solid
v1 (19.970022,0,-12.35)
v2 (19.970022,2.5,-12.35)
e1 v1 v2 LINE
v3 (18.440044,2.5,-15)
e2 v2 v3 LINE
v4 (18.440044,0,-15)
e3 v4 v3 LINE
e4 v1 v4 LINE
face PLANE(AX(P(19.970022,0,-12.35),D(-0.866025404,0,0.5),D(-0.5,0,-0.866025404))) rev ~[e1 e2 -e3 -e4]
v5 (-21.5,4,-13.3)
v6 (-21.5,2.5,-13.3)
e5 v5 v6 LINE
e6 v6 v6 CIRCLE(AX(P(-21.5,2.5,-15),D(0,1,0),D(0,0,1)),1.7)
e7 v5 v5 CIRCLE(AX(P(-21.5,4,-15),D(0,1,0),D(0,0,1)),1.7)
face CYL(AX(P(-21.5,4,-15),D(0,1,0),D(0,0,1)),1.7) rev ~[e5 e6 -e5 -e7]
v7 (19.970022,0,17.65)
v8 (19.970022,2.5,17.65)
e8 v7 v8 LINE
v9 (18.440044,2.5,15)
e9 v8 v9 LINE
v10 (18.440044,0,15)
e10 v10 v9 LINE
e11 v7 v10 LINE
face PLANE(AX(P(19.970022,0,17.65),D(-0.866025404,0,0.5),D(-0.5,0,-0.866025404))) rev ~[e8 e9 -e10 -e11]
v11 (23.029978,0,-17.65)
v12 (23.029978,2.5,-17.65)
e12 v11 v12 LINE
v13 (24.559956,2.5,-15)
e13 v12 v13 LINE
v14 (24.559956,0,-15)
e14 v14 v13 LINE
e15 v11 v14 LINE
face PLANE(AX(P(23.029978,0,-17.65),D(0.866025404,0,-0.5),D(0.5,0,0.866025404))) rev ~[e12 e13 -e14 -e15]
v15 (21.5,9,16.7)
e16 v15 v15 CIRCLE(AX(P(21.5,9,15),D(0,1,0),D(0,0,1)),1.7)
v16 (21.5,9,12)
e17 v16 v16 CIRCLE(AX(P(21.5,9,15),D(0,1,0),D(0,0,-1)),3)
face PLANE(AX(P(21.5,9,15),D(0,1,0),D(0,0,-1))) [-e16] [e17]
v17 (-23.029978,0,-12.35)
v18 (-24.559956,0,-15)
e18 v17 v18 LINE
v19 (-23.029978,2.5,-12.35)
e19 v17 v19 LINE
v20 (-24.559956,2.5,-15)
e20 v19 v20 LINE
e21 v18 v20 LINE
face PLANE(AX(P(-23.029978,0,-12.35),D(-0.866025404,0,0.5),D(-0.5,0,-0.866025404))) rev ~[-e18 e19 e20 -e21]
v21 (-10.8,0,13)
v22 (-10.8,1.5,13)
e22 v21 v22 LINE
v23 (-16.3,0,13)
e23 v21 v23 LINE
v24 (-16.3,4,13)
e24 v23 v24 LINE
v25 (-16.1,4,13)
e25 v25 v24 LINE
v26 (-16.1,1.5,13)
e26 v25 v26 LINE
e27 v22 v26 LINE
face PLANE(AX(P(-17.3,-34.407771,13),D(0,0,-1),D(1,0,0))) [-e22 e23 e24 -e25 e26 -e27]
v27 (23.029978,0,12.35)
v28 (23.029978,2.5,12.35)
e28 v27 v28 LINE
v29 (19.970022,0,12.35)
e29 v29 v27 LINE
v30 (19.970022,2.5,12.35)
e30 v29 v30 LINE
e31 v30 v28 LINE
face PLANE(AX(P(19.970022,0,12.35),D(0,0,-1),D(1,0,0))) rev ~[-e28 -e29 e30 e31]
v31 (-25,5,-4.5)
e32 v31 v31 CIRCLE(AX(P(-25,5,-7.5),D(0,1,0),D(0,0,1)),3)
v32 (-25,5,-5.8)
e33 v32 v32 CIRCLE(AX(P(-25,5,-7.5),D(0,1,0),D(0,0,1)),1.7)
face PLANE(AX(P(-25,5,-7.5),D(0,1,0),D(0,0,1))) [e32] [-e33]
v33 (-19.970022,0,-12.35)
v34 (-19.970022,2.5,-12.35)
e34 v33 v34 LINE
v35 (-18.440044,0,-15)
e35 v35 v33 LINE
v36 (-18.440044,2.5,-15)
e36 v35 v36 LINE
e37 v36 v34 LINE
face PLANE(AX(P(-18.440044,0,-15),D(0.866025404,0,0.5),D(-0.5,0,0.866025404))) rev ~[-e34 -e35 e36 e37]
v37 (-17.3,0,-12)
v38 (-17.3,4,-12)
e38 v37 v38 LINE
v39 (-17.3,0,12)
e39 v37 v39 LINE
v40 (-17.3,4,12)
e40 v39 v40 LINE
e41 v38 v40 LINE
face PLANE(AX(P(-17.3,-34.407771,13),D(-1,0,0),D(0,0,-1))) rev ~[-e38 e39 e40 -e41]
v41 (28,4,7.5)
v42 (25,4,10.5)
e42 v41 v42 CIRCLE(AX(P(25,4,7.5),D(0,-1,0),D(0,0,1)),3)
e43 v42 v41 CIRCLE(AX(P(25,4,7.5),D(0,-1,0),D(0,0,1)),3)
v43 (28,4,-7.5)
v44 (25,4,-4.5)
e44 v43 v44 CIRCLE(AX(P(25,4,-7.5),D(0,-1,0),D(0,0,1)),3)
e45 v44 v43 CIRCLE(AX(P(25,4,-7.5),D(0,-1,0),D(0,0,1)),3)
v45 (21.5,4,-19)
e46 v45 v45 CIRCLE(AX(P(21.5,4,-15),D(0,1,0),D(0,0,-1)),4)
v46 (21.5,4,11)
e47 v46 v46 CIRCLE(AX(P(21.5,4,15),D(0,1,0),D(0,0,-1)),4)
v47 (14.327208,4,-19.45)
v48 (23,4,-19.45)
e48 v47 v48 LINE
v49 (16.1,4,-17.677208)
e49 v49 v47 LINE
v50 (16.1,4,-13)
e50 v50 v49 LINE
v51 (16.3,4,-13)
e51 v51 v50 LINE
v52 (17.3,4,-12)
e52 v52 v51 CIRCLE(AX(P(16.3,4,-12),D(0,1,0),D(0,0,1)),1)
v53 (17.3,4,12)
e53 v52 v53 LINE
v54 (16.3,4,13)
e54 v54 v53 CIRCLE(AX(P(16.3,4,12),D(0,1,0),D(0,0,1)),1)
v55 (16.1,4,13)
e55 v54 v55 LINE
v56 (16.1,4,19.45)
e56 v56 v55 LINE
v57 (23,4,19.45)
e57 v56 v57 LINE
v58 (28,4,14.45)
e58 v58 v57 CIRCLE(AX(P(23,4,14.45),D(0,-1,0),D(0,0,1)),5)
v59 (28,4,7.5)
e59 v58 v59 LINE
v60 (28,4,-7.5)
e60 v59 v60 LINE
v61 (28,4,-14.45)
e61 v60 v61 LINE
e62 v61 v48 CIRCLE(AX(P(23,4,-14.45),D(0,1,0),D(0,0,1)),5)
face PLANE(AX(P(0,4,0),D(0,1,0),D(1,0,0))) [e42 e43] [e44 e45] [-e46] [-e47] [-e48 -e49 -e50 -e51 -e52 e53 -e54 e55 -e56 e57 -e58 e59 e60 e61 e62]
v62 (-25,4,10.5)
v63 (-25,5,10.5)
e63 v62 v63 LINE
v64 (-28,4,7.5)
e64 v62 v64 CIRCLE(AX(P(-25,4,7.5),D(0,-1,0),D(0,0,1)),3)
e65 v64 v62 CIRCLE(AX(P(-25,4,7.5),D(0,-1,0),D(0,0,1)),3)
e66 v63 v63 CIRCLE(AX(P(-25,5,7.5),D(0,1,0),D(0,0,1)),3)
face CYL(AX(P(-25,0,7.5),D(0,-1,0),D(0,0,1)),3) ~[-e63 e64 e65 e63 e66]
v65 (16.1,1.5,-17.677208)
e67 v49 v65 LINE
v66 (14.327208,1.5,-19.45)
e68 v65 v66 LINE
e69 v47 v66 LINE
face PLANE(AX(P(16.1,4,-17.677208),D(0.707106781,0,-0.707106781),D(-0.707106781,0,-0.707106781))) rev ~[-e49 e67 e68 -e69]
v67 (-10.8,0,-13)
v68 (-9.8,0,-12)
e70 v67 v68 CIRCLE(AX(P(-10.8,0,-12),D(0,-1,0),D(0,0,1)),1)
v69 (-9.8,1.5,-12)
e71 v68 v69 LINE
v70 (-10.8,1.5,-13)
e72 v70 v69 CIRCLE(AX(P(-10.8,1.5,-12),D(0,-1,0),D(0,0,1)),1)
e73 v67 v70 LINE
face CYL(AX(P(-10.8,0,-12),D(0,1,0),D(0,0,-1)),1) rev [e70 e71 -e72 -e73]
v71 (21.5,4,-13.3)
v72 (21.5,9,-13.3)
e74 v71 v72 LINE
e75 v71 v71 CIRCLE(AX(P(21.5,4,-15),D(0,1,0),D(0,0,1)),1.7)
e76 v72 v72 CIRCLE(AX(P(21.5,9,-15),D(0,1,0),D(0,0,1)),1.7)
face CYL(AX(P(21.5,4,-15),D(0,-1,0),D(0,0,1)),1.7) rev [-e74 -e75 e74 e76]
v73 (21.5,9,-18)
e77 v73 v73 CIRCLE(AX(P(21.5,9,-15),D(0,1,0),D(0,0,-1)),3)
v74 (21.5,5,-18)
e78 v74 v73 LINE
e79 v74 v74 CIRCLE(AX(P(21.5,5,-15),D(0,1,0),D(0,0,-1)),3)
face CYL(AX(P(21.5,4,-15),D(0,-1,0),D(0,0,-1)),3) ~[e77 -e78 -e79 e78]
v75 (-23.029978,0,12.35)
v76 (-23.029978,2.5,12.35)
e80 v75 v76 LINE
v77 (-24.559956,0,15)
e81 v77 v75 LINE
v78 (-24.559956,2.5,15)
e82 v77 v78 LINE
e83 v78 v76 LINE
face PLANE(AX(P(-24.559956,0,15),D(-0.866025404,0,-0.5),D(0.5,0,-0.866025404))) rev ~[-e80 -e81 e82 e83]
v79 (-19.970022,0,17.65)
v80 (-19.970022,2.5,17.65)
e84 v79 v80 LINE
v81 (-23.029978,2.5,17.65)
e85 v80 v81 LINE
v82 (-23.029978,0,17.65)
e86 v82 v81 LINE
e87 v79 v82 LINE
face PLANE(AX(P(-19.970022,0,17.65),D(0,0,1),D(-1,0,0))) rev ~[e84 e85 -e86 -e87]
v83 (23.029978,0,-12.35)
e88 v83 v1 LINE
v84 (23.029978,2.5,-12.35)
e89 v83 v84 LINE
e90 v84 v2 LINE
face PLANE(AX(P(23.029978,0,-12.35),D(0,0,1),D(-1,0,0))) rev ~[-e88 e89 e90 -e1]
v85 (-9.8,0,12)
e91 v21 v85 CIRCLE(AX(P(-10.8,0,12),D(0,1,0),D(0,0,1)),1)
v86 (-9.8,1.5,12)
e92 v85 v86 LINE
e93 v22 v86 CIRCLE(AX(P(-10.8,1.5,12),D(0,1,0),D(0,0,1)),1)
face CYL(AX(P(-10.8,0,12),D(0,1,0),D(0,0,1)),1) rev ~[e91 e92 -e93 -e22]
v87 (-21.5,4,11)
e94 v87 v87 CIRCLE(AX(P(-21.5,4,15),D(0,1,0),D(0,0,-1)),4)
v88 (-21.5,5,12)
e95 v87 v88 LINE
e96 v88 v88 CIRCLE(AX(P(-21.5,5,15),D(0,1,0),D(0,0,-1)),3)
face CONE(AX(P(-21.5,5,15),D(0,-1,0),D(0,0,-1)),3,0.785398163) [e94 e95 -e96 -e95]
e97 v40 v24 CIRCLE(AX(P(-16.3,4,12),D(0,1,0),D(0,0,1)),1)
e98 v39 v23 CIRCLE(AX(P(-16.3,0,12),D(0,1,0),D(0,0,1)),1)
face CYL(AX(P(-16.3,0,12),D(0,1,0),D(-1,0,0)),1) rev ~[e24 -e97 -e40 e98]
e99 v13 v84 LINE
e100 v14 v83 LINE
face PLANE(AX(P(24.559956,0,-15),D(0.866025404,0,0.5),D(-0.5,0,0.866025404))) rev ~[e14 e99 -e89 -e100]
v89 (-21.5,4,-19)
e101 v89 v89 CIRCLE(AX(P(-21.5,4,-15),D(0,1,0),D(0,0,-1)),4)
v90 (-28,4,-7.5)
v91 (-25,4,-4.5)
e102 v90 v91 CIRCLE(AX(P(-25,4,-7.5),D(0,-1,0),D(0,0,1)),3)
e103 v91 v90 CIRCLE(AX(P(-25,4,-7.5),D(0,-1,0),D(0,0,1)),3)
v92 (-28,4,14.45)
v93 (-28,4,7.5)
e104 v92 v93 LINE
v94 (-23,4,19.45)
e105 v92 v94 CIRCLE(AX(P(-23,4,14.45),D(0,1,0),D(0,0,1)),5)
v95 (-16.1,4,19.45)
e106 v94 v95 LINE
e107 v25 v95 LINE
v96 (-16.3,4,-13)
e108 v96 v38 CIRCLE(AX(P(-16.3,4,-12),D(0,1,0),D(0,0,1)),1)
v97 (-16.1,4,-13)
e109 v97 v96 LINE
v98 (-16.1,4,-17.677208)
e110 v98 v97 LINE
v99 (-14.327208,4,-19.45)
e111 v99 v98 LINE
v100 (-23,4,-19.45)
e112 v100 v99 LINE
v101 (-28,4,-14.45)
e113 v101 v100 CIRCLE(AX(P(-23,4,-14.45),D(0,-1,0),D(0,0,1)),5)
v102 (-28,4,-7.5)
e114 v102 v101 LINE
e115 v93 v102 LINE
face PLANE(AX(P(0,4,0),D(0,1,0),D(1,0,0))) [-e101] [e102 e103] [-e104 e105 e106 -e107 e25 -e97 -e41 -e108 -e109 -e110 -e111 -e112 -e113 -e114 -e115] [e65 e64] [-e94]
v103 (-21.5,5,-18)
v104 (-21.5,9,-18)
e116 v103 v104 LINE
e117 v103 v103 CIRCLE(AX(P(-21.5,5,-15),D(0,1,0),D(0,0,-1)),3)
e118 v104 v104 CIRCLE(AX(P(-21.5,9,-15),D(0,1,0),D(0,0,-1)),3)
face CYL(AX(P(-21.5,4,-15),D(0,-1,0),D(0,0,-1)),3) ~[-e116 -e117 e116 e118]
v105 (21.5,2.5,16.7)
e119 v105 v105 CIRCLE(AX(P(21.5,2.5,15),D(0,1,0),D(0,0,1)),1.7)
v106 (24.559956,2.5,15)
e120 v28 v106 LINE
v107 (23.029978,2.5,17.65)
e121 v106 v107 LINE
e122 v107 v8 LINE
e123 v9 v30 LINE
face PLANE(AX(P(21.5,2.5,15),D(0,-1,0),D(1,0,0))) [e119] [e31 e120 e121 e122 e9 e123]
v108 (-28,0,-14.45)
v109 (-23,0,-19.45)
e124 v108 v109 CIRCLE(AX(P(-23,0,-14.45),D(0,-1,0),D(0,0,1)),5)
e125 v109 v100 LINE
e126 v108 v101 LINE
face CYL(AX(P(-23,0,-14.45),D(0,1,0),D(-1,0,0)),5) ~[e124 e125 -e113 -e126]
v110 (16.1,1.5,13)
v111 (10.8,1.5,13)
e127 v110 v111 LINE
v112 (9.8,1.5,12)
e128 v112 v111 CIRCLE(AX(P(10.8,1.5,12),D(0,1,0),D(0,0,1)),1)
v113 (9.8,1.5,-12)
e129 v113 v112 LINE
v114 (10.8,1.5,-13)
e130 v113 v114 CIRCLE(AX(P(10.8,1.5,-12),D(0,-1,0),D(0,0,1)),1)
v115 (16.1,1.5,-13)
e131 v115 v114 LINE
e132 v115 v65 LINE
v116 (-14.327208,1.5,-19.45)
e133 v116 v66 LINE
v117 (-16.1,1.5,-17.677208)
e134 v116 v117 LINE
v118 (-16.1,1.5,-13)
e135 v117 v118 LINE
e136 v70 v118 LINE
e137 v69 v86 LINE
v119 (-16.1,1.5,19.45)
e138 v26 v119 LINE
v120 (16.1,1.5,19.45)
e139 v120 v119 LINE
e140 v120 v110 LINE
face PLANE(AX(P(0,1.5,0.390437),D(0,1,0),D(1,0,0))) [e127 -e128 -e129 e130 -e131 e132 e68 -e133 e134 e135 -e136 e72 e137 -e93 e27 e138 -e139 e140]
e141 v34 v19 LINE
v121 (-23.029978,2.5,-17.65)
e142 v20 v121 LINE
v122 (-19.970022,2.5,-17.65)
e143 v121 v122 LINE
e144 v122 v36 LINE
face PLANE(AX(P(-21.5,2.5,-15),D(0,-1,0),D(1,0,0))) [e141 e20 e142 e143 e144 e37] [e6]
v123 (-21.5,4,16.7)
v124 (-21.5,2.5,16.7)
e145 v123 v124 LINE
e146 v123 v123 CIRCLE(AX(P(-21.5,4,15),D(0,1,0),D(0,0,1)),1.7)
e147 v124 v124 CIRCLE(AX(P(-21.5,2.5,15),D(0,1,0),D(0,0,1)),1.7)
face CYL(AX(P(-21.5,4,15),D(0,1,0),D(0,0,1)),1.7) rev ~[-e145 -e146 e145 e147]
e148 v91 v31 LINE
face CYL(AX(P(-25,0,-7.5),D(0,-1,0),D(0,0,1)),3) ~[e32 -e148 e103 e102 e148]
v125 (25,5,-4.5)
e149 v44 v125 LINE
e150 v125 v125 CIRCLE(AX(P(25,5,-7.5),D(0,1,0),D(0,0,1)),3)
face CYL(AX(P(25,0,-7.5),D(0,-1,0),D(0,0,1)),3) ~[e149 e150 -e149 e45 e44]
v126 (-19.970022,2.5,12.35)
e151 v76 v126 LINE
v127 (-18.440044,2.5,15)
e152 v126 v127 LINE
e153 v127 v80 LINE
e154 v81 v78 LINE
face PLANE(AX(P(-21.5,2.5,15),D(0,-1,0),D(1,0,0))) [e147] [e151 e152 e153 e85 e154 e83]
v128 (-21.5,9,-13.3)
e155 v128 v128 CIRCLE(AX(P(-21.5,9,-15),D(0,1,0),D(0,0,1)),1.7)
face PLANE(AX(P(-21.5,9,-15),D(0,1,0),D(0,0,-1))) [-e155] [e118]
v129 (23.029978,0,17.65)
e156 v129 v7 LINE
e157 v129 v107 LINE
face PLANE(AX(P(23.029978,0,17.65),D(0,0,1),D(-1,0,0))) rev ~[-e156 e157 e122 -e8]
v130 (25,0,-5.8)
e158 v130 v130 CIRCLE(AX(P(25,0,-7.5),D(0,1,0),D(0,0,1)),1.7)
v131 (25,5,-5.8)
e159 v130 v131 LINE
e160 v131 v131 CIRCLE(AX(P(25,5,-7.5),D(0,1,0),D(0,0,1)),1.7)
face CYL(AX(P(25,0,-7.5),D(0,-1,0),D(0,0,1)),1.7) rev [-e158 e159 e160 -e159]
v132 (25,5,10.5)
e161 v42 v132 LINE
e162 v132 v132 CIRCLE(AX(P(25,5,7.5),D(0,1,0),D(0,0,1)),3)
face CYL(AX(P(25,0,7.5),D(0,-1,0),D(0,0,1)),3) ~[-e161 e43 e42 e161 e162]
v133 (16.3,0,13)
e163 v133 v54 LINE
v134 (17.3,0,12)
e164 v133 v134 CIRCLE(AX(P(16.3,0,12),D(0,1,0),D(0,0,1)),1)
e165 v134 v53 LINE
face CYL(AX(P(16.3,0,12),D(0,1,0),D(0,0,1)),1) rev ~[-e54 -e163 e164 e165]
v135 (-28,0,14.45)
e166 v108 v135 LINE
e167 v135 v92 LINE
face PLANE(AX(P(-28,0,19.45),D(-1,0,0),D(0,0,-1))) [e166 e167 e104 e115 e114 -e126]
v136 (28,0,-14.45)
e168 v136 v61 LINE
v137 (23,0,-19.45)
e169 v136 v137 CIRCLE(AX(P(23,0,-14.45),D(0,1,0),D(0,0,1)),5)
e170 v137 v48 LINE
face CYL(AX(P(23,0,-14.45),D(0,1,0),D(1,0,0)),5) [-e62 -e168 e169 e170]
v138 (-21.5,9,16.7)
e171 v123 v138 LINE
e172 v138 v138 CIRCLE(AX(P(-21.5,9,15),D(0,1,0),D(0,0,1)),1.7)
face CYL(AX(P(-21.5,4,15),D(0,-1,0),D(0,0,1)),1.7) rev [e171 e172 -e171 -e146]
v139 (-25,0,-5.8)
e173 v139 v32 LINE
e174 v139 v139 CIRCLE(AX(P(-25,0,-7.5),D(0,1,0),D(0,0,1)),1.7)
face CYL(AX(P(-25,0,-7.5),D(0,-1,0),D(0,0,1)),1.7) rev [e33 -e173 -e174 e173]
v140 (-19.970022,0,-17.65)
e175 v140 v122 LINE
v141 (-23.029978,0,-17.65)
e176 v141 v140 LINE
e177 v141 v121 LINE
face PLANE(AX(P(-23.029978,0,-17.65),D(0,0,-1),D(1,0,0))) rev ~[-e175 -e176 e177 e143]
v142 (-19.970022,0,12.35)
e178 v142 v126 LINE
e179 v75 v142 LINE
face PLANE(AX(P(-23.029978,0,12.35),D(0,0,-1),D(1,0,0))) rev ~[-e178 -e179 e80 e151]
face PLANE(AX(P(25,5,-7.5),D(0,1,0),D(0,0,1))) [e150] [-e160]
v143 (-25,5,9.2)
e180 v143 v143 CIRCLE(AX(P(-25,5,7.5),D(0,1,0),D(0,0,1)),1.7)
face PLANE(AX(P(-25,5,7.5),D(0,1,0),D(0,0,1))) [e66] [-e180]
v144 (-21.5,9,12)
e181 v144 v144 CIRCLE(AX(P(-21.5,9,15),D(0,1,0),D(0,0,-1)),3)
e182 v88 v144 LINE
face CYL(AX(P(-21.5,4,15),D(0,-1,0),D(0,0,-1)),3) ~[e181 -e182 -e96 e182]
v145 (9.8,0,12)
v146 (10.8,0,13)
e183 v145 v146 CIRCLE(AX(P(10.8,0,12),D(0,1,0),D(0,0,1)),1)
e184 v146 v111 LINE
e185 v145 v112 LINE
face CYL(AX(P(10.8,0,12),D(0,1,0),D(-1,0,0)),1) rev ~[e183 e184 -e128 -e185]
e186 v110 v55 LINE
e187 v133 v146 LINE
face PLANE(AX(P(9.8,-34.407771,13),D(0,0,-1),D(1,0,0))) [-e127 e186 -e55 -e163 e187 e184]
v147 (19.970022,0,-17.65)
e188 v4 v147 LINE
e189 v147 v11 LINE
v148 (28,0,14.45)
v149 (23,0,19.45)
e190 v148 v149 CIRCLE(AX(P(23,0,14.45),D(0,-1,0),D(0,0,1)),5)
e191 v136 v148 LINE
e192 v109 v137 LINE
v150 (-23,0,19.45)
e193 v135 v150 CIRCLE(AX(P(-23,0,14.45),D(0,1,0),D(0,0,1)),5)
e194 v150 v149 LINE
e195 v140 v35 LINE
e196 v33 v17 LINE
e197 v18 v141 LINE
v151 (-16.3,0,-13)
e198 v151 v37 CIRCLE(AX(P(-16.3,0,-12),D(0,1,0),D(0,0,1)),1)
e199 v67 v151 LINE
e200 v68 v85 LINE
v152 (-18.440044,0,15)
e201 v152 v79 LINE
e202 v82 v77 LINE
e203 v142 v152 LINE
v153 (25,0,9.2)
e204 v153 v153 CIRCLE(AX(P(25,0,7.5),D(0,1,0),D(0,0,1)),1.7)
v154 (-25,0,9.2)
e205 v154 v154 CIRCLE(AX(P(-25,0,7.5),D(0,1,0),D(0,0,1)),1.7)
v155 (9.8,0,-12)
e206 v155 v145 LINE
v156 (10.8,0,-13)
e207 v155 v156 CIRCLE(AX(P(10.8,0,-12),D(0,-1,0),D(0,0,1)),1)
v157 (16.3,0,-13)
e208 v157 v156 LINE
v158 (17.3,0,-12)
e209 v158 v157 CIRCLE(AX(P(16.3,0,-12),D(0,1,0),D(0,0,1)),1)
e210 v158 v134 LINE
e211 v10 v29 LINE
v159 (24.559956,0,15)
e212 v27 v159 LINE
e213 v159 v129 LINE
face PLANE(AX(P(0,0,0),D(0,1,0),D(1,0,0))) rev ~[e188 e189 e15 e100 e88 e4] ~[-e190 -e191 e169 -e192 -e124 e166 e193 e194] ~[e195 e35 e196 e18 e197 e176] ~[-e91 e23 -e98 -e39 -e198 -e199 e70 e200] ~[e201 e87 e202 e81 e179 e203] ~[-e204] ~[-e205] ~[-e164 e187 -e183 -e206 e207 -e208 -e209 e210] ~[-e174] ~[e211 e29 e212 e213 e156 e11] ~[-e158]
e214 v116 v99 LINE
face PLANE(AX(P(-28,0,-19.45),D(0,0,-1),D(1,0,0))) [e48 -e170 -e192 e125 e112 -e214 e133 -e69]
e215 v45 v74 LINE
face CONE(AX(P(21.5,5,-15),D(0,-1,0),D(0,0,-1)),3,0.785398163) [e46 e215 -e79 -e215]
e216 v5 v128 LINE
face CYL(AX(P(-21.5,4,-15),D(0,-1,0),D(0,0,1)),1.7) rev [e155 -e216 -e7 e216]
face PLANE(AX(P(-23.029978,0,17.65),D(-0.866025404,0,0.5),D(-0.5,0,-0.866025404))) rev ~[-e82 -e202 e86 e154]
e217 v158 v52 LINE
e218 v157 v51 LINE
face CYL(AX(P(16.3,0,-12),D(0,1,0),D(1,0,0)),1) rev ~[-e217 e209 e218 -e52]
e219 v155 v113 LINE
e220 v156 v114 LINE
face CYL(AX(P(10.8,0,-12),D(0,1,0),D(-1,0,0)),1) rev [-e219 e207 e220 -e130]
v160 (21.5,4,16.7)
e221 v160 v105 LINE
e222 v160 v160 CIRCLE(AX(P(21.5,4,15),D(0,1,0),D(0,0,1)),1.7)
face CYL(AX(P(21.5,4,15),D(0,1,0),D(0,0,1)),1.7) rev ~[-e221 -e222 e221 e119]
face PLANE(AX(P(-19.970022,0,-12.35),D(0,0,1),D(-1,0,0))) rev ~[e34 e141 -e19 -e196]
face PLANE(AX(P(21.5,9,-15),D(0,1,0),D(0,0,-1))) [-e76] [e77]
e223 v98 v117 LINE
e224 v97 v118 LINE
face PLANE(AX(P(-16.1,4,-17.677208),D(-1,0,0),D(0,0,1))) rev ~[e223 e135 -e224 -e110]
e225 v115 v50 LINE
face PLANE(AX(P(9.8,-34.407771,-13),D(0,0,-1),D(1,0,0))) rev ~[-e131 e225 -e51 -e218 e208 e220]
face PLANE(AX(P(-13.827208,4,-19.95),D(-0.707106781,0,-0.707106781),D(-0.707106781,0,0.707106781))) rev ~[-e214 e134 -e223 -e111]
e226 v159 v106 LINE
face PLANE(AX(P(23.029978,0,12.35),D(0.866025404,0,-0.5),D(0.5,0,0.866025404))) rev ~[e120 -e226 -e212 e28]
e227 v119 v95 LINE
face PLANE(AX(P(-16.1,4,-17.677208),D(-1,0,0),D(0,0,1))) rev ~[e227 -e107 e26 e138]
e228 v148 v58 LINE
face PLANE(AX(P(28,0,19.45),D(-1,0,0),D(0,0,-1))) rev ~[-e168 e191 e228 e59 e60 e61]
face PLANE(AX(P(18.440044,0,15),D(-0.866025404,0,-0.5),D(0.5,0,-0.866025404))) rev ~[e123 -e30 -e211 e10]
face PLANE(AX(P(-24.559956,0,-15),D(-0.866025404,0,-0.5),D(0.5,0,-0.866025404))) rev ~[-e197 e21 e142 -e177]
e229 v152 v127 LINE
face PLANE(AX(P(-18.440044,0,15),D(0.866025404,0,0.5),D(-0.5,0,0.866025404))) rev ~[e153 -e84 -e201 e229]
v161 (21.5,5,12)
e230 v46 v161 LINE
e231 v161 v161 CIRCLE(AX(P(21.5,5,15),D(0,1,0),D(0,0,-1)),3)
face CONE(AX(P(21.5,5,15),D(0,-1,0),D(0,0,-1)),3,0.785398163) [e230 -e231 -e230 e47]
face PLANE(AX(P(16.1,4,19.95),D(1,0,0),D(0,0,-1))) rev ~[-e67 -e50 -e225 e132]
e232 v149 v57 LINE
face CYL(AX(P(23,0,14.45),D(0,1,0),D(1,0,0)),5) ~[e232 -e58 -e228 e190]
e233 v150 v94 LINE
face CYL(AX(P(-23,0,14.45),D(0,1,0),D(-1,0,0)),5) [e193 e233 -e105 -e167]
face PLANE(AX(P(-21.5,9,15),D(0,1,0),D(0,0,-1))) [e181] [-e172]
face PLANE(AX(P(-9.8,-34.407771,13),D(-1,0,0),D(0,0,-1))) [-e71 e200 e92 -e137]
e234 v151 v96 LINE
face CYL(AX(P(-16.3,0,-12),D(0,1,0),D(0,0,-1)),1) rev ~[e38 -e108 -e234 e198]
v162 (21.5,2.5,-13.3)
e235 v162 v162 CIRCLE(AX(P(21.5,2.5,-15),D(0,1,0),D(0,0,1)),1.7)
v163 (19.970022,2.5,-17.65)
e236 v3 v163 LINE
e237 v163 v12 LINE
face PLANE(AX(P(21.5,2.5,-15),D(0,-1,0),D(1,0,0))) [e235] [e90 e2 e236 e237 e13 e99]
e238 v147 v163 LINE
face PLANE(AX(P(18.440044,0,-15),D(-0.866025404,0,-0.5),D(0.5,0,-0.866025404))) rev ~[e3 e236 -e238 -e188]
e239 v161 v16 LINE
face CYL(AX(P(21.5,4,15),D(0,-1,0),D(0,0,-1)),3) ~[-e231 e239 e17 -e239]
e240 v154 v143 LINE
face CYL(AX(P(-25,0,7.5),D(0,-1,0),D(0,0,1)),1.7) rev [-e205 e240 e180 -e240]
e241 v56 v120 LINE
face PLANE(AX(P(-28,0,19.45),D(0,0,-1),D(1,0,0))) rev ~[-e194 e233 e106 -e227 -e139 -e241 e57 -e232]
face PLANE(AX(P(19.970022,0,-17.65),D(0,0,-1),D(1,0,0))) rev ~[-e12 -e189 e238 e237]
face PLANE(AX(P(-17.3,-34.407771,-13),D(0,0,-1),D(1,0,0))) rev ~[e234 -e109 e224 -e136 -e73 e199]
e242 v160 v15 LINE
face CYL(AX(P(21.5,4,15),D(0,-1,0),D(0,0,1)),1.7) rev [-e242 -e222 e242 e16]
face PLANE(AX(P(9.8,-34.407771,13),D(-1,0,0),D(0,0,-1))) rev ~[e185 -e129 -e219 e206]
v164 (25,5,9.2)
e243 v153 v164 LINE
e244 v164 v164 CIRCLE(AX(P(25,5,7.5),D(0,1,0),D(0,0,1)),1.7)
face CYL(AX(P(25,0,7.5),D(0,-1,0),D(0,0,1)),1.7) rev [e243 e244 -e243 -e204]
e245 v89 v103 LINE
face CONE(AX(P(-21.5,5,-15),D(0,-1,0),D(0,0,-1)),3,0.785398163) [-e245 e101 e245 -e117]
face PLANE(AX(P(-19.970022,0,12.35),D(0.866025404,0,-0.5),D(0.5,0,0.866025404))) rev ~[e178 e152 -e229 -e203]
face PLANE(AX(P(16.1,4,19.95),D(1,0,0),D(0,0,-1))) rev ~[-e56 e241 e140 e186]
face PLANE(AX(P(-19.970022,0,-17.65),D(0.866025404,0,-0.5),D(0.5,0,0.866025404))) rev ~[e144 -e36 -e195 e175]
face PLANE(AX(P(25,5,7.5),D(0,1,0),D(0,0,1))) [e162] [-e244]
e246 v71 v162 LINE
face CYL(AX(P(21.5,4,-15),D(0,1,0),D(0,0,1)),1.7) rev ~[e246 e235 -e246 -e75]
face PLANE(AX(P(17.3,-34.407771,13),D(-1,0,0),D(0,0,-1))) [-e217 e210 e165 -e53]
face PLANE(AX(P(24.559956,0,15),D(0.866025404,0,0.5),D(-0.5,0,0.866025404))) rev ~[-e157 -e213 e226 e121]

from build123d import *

# Parameters (mm, degrees)
SKETCH2_R               = 3
SKETCH2_R_2             = 1.7
BOSS_EXTRUDE1_DEPTH     = 5
BOSS_EXTRUDE1_2_DEPTH   = 5
BOSS_EXTRUDE1_3_DEPTH   = 5
BOSS_EXTRUDE1_4_DEPTH   = 5
SKETCH3_W               = 56
SKETCH3_H               = 38.9
SKETCH3_R               = 1.7
BOSS_EXTRUDE2_DEPTH     = 4
FILLET1_R               = 5
CUT_EXTRUDE2_START      = 4
CUT_EXTRUDE2_DEPTH      = 2.5
CUT_EXTRUDE3_DEPTH      = 2.5
SKETCH5_R               = 3
SKETCH5_R_2             = 1.7
BOSS_EXTRUDE3_DEPTH     = 5
SKETCH5_2_R             = 1.7
CUT_EXTRUDE4_DEPTH      = 35.45725613
CUT_EXTRUDE5_DEPTH      = 2.5
CHAMFER1_SIZE           = 1
CHAMFER2_SIZE           = 1
CUT_EXTRUDE6_DEPTH      = 35.907771341
CUT_EXTRUDE6_DEPTH_BACK = 35.907771341
SKETCH7_W               = 7.5
SKETCH7_H               = 26
FILLET3_R               = 1


with BuildPart() as part:
    # Sketch2 → Boss-Extrude1 (new body)
    with BuildSketch(Plane(origin=(0, 0, 0), x_dir=(1, 0, 0), z_dir=(0, 1, 0))):
        with Locations(Location((-25, 7.5, 0), (0, 0, 270))):
            Circle(SKETCH2_R)
        with Locations(Location((-25, 7.5, 0), (0, 0, 270))):
            Circle(SKETCH2_R_2, mode=Mode.SUBTRACT)
    extrude(amount=BOSS_EXTRUDE1_DEPTH)



with BuildPart() as body_2:
    # Sketch2 → Boss-Extrude1 2 (new body)
    with BuildSketch(Plane(origin=(0, 0, 0), x_dir=(1, 0, 0), z_dir=(0, 1, 0))):
        with Locations(Location((-25, -7.5, 0), (0, 0, 270))):
            Circle(SKETCH2_R)
        with Locations(Location((-25, -7.5, 0), (0, 0, 270))):
            Circle(SKETCH2_R_2, mode=Mode.SUBTRACT)
    extrude(amount=BOSS_EXTRUDE1_2_DEPTH)


with BuildPart() as body_3:
    # Sketch2 → Boss-Extrude1 3 (new body)
    with BuildSketch(Plane(origin=(0, 0, 0), x_dir=(1, 0, 0), z_dir=(0, 1, 0))):
        with Locations(Location((25, -7.5, 0), (0, 0, 270))):
            Circle(SKETCH2_R)
        with Locations(Location((25, -7.5, 0), (0, 0, 270))):
            Circle(SKETCH2_R_2, mode=Mode.SUBTRACT)
    extrude(amount=BOSS_EXTRUDE1_3_DEPTH)


with BuildPart() as body_4:
    # Sketch2 → Boss-Extrude1 4 (new body)
    with BuildSketch(Plane(origin=(0, 0, 0), x_dir=(1, 0, 0), z_dir=(0, 1, 0))):
        with Locations(Location((25, 7.5, 0), (0, 0, 270))):
            Circle(SKETCH2_R)
        with Locations(Location((25, 7.5, 0), (0, 0, 270))):
            Circle(SKETCH2_R_2, mode=Mode.SUBTRACT)
    extrude(amount=BOSS_EXTRUDE1_4_DEPTH)


with BuildPart() as part_1:
    add(part.part)

    add(body_2.part)  # Boss-Extrude2 merges body 2

    add(body_3.part)  # Boss-Extrude2 merges body 3

    add(body_4.part)  # Boss-Extrude2 merges body 4
    # Sketch3 → Boss-Extrude2 (add)
    with BuildSketch(Plane(origin=(0, 0, 0), x_dir=(1, 0, 0), z_dir=(0, 1, 0))):
        Rectangle(SKETCH3_W, SKETCH3_H)
        with Locations(Location((-25, 7.5, 0), (0, 0, 270))):
            Circle(SKETCH3_R, mode=Mode.SUBTRACT)
        with Locations(Location((25, 7.5, 0), (0, 0, 270))):
            Circle(SKETCH3_R, mode=Mode.SUBTRACT)
        with Locations(Location((25, -7.5, 0), (0, 0, 270))):
            Circle(SKETCH3_R, mode=Mode.SUBTRACT)
        with Locations(Location((-25, -7.5, 0), (0, 0, 270))):
            Circle(SKETCH3_R, mode=Mode.SUBTRACT)
    extrude(amount=BOSS_EXTRUDE2_DEPTH)

    # Fillet1
    fillet1_edges = [part_1.edges().sort_by_distance(p)[0] for p in [
        (28, 2, 19.45),
        (28, 2, -19.45),
        (-28, 2, -19.45),
        (-28, 2, 19.45),
    ]]
    fillet(fillet1_edges, radius=FILLET1_R)

    # Sketch1 → Cut-Extrude2 (cut)
    with BuildSketch(Plane(origin=(0, 0, 0), x_dir=(1, 0, 0), z_dir=(0, 1, 0)).offset(CUT_EXTRUDE2_START)):
        Polygon((13.620101013, 19.45), (15.6, 17.470101013), (15.6, -19.45), (-15.6, -19.45), (-15.6, 17.470101013), (-13.620101013, 19.45), align=None)
    extrude(amount=-CUT_EXTRUDE2_DEPTH, mode=Mode.SUBTRACT)

    # Sketch4 → Cut-Extrude3 (cut)
    with BuildSketch(Plane(origin=(0, 4, 0), x_dir=(1, 0, 0), z_dir=(0, 1, 0))):
        Polygon((-16.1, -19.95), (16.1, -19.95), (16.1, 17.677207794), (13.827207794, 19.95), (-13.827207794, 19.95), (-16.1, 17.677207794), align=None)
    extrude(amount=-CUT_EXTRUDE3_DEPTH, mode=Mode.SUBTRACT)

    # Sketch5 → Boss-Extrude3 (add)
    # profile 1 of 4: a face of its own
    with BuildSketch(Plane(origin=(0, 4, 0), x_dir=(1, 0, 0), z_dir=(0, 1, 0))):
        with Locations(Location((-21.5, 15, 0), (0, 0, 90))):
            Circle(SKETCH5_R)
        with Locations(Location((-21.5, 15, 0), (0, 0, 270))):
            Circle(SKETCH5_R_2, mode=Mode.SUBTRACT)
    # profile 2 of 4: a face of its own
    with BuildSketch(Plane(origin=(0, 4, 0), x_dir=(1, 0, 0), z_dir=(0, 1, 0))):
        with Locations(Location((21.5, 15, 0), (0, 0, 90))):
            Circle(SKETCH5_R)
        with Locations(Location((21.5, 15, 0), (0, 0, 270))):
            Circle(SKETCH5_R_2, mode=Mode.SUBTRACT)
    # profile 3 of 4: a face of its own
    with BuildSketch(Plane(origin=(0, 4, 0), x_dir=(1, 0, 0), z_dir=(0, 1, 0))):
        with Locations(Location((21.5, -15, 0), (0, 0, 90))):
            Circle(SKETCH5_R)
        with Locations(Location((21.5, -15, 0), (0, 0, 270))):
            Circle(SKETCH5_R_2, mode=Mode.SUBTRACT)
    # profile 4 of 4: a face of its own
    with BuildSketch(Plane(origin=(0, 4, 0), x_dir=(1, 0, 0), z_dir=(0, 1, 0))):
        with Locations(Location((-21.5, -15, 0), (0, 0, 90))):
            Circle(SKETCH5_R)
        with Locations(Location((-21.5, -15, 0), (0, 0, 270))):
            Circle(SKETCH5_R_2, mode=Mode.SUBTRACT)
    extrude(amount=BOSS_EXTRUDE3_DEPTH)

    # Sketch5<2> → Cut-Extrude4 (cut, through all)
    with BuildSketch(Plane(origin=(0, 4, 0), x_dir=(1, 0, 0), z_dir=(0, 1, 0))):
        with Locations(Location((-21.5, 15, 0), (0, 0, 270))):
            Circle(SKETCH5_2_R)
        with Locations(Location((21.5, 15, 0), (0, 0, 270))):
            Circle(SKETCH5_2_R)
        with Locations(Location((21.5, -15, 0), (0, 0, 270))):
            Circle(SKETCH5_2_R)
        with Locations(Location((-21.5, -15, 0), (0, 0, 270))):
            Circle(SKETCH5_2_R)
    extrude(amount=-CUT_EXTRUDE4_DEPTH, mode=Mode.SUBTRACT)

    # Sketch6 → Cut-Extrude5 (cut)
    with BuildSketch(Plane.XZ):
        Polygon((-19.970021787, 12.35), (-18.440043573, 15), (-19.970021787, 17.65), (-23.029978213, 17.65), (-24.559956427, 15), (-23.029978213, 12.35), align=None)
        Polygon((23.029978213, 12.35), (24.559956427, 15), (23.029978213, 17.65), (19.970021787, 17.65), (18.440043573, 15), (19.970021787, 12.35), align=None)
        Polygon((24.559956427, -15), (23.029978213, -12.35), (19.970021787, -12.35), (18.440043573, -15), (19.970021787, -17.65), (23.029978213, -17.65), align=None)
        Polygon((-18.440043573, -15), (-19.970021787, -12.35), (-23.029978213, -12.35), (-24.559956427, -15), (-23.029978213, -17.65), (-19.970021787, -17.65), align=None)
    extrude(amount=-CUT_EXTRUDE5_DEPTH, mode=Mode.SUBTRACT)

    # Chamfer1
    chamfer1_edges = [part_1.edges().sort_by_distance(p)[0] for p in [
        (-21.5, 4, 18),
    ]]
    chamfer(chamfer1_edges, length=CHAMFER1_SIZE)

    # Chamfer2
    chamfer2_edges = [part_1.edges().sort_by_distance(p)[0] for p in [
        (-21.5, 4, -12),
        (21.5, 4, -12),
        (21.5, 4, 18),
    ]]
    chamfer(chamfer2_edges, length=CHAMFER2_SIZE)

    # Sketch7 → Cut-Extrude6 (cut, two sides: drawn at the far end of the back side and taken through both)
    with BuildSketch(Plane(origin=(0, 1.5, 0), x_dir=(1, 0, 0), z_dir=(0, 1, 0)).offset(-CUT_EXTRUDE6_DEPTH_BACK)):
        with Locations((-13.55, 0)):
            Rectangle(SKETCH7_W, SKETCH7_H)
        with Locations((13.55, 0)):
            Rectangle(SKETCH7_W, SKETCH7_H)
    extrude(amount=CUT_EXTRUDE6_DEPTH + CUT_EXTRUDE6_DEPTH_BACK, mode=Mode.SUBTRACT)

    # Fillet3
    fillet3_edges = [part_1.edges().sort_by_distance(p)[0] for p in [
        (-17.3, 2, 13),
        (-9.8, 0.75, -13),
        (-17.3, 2, -13),
        (-9.8, 0.75, 13),
        (17.3, 2, -13),
        (9.8, 0.75, 13),
        (17.3, 2, 13),
        (9.8, 0.75, -13),
    ]]
    fillet(fillet3_edges, radius=FILLET3_R)


solid = part_1.part
